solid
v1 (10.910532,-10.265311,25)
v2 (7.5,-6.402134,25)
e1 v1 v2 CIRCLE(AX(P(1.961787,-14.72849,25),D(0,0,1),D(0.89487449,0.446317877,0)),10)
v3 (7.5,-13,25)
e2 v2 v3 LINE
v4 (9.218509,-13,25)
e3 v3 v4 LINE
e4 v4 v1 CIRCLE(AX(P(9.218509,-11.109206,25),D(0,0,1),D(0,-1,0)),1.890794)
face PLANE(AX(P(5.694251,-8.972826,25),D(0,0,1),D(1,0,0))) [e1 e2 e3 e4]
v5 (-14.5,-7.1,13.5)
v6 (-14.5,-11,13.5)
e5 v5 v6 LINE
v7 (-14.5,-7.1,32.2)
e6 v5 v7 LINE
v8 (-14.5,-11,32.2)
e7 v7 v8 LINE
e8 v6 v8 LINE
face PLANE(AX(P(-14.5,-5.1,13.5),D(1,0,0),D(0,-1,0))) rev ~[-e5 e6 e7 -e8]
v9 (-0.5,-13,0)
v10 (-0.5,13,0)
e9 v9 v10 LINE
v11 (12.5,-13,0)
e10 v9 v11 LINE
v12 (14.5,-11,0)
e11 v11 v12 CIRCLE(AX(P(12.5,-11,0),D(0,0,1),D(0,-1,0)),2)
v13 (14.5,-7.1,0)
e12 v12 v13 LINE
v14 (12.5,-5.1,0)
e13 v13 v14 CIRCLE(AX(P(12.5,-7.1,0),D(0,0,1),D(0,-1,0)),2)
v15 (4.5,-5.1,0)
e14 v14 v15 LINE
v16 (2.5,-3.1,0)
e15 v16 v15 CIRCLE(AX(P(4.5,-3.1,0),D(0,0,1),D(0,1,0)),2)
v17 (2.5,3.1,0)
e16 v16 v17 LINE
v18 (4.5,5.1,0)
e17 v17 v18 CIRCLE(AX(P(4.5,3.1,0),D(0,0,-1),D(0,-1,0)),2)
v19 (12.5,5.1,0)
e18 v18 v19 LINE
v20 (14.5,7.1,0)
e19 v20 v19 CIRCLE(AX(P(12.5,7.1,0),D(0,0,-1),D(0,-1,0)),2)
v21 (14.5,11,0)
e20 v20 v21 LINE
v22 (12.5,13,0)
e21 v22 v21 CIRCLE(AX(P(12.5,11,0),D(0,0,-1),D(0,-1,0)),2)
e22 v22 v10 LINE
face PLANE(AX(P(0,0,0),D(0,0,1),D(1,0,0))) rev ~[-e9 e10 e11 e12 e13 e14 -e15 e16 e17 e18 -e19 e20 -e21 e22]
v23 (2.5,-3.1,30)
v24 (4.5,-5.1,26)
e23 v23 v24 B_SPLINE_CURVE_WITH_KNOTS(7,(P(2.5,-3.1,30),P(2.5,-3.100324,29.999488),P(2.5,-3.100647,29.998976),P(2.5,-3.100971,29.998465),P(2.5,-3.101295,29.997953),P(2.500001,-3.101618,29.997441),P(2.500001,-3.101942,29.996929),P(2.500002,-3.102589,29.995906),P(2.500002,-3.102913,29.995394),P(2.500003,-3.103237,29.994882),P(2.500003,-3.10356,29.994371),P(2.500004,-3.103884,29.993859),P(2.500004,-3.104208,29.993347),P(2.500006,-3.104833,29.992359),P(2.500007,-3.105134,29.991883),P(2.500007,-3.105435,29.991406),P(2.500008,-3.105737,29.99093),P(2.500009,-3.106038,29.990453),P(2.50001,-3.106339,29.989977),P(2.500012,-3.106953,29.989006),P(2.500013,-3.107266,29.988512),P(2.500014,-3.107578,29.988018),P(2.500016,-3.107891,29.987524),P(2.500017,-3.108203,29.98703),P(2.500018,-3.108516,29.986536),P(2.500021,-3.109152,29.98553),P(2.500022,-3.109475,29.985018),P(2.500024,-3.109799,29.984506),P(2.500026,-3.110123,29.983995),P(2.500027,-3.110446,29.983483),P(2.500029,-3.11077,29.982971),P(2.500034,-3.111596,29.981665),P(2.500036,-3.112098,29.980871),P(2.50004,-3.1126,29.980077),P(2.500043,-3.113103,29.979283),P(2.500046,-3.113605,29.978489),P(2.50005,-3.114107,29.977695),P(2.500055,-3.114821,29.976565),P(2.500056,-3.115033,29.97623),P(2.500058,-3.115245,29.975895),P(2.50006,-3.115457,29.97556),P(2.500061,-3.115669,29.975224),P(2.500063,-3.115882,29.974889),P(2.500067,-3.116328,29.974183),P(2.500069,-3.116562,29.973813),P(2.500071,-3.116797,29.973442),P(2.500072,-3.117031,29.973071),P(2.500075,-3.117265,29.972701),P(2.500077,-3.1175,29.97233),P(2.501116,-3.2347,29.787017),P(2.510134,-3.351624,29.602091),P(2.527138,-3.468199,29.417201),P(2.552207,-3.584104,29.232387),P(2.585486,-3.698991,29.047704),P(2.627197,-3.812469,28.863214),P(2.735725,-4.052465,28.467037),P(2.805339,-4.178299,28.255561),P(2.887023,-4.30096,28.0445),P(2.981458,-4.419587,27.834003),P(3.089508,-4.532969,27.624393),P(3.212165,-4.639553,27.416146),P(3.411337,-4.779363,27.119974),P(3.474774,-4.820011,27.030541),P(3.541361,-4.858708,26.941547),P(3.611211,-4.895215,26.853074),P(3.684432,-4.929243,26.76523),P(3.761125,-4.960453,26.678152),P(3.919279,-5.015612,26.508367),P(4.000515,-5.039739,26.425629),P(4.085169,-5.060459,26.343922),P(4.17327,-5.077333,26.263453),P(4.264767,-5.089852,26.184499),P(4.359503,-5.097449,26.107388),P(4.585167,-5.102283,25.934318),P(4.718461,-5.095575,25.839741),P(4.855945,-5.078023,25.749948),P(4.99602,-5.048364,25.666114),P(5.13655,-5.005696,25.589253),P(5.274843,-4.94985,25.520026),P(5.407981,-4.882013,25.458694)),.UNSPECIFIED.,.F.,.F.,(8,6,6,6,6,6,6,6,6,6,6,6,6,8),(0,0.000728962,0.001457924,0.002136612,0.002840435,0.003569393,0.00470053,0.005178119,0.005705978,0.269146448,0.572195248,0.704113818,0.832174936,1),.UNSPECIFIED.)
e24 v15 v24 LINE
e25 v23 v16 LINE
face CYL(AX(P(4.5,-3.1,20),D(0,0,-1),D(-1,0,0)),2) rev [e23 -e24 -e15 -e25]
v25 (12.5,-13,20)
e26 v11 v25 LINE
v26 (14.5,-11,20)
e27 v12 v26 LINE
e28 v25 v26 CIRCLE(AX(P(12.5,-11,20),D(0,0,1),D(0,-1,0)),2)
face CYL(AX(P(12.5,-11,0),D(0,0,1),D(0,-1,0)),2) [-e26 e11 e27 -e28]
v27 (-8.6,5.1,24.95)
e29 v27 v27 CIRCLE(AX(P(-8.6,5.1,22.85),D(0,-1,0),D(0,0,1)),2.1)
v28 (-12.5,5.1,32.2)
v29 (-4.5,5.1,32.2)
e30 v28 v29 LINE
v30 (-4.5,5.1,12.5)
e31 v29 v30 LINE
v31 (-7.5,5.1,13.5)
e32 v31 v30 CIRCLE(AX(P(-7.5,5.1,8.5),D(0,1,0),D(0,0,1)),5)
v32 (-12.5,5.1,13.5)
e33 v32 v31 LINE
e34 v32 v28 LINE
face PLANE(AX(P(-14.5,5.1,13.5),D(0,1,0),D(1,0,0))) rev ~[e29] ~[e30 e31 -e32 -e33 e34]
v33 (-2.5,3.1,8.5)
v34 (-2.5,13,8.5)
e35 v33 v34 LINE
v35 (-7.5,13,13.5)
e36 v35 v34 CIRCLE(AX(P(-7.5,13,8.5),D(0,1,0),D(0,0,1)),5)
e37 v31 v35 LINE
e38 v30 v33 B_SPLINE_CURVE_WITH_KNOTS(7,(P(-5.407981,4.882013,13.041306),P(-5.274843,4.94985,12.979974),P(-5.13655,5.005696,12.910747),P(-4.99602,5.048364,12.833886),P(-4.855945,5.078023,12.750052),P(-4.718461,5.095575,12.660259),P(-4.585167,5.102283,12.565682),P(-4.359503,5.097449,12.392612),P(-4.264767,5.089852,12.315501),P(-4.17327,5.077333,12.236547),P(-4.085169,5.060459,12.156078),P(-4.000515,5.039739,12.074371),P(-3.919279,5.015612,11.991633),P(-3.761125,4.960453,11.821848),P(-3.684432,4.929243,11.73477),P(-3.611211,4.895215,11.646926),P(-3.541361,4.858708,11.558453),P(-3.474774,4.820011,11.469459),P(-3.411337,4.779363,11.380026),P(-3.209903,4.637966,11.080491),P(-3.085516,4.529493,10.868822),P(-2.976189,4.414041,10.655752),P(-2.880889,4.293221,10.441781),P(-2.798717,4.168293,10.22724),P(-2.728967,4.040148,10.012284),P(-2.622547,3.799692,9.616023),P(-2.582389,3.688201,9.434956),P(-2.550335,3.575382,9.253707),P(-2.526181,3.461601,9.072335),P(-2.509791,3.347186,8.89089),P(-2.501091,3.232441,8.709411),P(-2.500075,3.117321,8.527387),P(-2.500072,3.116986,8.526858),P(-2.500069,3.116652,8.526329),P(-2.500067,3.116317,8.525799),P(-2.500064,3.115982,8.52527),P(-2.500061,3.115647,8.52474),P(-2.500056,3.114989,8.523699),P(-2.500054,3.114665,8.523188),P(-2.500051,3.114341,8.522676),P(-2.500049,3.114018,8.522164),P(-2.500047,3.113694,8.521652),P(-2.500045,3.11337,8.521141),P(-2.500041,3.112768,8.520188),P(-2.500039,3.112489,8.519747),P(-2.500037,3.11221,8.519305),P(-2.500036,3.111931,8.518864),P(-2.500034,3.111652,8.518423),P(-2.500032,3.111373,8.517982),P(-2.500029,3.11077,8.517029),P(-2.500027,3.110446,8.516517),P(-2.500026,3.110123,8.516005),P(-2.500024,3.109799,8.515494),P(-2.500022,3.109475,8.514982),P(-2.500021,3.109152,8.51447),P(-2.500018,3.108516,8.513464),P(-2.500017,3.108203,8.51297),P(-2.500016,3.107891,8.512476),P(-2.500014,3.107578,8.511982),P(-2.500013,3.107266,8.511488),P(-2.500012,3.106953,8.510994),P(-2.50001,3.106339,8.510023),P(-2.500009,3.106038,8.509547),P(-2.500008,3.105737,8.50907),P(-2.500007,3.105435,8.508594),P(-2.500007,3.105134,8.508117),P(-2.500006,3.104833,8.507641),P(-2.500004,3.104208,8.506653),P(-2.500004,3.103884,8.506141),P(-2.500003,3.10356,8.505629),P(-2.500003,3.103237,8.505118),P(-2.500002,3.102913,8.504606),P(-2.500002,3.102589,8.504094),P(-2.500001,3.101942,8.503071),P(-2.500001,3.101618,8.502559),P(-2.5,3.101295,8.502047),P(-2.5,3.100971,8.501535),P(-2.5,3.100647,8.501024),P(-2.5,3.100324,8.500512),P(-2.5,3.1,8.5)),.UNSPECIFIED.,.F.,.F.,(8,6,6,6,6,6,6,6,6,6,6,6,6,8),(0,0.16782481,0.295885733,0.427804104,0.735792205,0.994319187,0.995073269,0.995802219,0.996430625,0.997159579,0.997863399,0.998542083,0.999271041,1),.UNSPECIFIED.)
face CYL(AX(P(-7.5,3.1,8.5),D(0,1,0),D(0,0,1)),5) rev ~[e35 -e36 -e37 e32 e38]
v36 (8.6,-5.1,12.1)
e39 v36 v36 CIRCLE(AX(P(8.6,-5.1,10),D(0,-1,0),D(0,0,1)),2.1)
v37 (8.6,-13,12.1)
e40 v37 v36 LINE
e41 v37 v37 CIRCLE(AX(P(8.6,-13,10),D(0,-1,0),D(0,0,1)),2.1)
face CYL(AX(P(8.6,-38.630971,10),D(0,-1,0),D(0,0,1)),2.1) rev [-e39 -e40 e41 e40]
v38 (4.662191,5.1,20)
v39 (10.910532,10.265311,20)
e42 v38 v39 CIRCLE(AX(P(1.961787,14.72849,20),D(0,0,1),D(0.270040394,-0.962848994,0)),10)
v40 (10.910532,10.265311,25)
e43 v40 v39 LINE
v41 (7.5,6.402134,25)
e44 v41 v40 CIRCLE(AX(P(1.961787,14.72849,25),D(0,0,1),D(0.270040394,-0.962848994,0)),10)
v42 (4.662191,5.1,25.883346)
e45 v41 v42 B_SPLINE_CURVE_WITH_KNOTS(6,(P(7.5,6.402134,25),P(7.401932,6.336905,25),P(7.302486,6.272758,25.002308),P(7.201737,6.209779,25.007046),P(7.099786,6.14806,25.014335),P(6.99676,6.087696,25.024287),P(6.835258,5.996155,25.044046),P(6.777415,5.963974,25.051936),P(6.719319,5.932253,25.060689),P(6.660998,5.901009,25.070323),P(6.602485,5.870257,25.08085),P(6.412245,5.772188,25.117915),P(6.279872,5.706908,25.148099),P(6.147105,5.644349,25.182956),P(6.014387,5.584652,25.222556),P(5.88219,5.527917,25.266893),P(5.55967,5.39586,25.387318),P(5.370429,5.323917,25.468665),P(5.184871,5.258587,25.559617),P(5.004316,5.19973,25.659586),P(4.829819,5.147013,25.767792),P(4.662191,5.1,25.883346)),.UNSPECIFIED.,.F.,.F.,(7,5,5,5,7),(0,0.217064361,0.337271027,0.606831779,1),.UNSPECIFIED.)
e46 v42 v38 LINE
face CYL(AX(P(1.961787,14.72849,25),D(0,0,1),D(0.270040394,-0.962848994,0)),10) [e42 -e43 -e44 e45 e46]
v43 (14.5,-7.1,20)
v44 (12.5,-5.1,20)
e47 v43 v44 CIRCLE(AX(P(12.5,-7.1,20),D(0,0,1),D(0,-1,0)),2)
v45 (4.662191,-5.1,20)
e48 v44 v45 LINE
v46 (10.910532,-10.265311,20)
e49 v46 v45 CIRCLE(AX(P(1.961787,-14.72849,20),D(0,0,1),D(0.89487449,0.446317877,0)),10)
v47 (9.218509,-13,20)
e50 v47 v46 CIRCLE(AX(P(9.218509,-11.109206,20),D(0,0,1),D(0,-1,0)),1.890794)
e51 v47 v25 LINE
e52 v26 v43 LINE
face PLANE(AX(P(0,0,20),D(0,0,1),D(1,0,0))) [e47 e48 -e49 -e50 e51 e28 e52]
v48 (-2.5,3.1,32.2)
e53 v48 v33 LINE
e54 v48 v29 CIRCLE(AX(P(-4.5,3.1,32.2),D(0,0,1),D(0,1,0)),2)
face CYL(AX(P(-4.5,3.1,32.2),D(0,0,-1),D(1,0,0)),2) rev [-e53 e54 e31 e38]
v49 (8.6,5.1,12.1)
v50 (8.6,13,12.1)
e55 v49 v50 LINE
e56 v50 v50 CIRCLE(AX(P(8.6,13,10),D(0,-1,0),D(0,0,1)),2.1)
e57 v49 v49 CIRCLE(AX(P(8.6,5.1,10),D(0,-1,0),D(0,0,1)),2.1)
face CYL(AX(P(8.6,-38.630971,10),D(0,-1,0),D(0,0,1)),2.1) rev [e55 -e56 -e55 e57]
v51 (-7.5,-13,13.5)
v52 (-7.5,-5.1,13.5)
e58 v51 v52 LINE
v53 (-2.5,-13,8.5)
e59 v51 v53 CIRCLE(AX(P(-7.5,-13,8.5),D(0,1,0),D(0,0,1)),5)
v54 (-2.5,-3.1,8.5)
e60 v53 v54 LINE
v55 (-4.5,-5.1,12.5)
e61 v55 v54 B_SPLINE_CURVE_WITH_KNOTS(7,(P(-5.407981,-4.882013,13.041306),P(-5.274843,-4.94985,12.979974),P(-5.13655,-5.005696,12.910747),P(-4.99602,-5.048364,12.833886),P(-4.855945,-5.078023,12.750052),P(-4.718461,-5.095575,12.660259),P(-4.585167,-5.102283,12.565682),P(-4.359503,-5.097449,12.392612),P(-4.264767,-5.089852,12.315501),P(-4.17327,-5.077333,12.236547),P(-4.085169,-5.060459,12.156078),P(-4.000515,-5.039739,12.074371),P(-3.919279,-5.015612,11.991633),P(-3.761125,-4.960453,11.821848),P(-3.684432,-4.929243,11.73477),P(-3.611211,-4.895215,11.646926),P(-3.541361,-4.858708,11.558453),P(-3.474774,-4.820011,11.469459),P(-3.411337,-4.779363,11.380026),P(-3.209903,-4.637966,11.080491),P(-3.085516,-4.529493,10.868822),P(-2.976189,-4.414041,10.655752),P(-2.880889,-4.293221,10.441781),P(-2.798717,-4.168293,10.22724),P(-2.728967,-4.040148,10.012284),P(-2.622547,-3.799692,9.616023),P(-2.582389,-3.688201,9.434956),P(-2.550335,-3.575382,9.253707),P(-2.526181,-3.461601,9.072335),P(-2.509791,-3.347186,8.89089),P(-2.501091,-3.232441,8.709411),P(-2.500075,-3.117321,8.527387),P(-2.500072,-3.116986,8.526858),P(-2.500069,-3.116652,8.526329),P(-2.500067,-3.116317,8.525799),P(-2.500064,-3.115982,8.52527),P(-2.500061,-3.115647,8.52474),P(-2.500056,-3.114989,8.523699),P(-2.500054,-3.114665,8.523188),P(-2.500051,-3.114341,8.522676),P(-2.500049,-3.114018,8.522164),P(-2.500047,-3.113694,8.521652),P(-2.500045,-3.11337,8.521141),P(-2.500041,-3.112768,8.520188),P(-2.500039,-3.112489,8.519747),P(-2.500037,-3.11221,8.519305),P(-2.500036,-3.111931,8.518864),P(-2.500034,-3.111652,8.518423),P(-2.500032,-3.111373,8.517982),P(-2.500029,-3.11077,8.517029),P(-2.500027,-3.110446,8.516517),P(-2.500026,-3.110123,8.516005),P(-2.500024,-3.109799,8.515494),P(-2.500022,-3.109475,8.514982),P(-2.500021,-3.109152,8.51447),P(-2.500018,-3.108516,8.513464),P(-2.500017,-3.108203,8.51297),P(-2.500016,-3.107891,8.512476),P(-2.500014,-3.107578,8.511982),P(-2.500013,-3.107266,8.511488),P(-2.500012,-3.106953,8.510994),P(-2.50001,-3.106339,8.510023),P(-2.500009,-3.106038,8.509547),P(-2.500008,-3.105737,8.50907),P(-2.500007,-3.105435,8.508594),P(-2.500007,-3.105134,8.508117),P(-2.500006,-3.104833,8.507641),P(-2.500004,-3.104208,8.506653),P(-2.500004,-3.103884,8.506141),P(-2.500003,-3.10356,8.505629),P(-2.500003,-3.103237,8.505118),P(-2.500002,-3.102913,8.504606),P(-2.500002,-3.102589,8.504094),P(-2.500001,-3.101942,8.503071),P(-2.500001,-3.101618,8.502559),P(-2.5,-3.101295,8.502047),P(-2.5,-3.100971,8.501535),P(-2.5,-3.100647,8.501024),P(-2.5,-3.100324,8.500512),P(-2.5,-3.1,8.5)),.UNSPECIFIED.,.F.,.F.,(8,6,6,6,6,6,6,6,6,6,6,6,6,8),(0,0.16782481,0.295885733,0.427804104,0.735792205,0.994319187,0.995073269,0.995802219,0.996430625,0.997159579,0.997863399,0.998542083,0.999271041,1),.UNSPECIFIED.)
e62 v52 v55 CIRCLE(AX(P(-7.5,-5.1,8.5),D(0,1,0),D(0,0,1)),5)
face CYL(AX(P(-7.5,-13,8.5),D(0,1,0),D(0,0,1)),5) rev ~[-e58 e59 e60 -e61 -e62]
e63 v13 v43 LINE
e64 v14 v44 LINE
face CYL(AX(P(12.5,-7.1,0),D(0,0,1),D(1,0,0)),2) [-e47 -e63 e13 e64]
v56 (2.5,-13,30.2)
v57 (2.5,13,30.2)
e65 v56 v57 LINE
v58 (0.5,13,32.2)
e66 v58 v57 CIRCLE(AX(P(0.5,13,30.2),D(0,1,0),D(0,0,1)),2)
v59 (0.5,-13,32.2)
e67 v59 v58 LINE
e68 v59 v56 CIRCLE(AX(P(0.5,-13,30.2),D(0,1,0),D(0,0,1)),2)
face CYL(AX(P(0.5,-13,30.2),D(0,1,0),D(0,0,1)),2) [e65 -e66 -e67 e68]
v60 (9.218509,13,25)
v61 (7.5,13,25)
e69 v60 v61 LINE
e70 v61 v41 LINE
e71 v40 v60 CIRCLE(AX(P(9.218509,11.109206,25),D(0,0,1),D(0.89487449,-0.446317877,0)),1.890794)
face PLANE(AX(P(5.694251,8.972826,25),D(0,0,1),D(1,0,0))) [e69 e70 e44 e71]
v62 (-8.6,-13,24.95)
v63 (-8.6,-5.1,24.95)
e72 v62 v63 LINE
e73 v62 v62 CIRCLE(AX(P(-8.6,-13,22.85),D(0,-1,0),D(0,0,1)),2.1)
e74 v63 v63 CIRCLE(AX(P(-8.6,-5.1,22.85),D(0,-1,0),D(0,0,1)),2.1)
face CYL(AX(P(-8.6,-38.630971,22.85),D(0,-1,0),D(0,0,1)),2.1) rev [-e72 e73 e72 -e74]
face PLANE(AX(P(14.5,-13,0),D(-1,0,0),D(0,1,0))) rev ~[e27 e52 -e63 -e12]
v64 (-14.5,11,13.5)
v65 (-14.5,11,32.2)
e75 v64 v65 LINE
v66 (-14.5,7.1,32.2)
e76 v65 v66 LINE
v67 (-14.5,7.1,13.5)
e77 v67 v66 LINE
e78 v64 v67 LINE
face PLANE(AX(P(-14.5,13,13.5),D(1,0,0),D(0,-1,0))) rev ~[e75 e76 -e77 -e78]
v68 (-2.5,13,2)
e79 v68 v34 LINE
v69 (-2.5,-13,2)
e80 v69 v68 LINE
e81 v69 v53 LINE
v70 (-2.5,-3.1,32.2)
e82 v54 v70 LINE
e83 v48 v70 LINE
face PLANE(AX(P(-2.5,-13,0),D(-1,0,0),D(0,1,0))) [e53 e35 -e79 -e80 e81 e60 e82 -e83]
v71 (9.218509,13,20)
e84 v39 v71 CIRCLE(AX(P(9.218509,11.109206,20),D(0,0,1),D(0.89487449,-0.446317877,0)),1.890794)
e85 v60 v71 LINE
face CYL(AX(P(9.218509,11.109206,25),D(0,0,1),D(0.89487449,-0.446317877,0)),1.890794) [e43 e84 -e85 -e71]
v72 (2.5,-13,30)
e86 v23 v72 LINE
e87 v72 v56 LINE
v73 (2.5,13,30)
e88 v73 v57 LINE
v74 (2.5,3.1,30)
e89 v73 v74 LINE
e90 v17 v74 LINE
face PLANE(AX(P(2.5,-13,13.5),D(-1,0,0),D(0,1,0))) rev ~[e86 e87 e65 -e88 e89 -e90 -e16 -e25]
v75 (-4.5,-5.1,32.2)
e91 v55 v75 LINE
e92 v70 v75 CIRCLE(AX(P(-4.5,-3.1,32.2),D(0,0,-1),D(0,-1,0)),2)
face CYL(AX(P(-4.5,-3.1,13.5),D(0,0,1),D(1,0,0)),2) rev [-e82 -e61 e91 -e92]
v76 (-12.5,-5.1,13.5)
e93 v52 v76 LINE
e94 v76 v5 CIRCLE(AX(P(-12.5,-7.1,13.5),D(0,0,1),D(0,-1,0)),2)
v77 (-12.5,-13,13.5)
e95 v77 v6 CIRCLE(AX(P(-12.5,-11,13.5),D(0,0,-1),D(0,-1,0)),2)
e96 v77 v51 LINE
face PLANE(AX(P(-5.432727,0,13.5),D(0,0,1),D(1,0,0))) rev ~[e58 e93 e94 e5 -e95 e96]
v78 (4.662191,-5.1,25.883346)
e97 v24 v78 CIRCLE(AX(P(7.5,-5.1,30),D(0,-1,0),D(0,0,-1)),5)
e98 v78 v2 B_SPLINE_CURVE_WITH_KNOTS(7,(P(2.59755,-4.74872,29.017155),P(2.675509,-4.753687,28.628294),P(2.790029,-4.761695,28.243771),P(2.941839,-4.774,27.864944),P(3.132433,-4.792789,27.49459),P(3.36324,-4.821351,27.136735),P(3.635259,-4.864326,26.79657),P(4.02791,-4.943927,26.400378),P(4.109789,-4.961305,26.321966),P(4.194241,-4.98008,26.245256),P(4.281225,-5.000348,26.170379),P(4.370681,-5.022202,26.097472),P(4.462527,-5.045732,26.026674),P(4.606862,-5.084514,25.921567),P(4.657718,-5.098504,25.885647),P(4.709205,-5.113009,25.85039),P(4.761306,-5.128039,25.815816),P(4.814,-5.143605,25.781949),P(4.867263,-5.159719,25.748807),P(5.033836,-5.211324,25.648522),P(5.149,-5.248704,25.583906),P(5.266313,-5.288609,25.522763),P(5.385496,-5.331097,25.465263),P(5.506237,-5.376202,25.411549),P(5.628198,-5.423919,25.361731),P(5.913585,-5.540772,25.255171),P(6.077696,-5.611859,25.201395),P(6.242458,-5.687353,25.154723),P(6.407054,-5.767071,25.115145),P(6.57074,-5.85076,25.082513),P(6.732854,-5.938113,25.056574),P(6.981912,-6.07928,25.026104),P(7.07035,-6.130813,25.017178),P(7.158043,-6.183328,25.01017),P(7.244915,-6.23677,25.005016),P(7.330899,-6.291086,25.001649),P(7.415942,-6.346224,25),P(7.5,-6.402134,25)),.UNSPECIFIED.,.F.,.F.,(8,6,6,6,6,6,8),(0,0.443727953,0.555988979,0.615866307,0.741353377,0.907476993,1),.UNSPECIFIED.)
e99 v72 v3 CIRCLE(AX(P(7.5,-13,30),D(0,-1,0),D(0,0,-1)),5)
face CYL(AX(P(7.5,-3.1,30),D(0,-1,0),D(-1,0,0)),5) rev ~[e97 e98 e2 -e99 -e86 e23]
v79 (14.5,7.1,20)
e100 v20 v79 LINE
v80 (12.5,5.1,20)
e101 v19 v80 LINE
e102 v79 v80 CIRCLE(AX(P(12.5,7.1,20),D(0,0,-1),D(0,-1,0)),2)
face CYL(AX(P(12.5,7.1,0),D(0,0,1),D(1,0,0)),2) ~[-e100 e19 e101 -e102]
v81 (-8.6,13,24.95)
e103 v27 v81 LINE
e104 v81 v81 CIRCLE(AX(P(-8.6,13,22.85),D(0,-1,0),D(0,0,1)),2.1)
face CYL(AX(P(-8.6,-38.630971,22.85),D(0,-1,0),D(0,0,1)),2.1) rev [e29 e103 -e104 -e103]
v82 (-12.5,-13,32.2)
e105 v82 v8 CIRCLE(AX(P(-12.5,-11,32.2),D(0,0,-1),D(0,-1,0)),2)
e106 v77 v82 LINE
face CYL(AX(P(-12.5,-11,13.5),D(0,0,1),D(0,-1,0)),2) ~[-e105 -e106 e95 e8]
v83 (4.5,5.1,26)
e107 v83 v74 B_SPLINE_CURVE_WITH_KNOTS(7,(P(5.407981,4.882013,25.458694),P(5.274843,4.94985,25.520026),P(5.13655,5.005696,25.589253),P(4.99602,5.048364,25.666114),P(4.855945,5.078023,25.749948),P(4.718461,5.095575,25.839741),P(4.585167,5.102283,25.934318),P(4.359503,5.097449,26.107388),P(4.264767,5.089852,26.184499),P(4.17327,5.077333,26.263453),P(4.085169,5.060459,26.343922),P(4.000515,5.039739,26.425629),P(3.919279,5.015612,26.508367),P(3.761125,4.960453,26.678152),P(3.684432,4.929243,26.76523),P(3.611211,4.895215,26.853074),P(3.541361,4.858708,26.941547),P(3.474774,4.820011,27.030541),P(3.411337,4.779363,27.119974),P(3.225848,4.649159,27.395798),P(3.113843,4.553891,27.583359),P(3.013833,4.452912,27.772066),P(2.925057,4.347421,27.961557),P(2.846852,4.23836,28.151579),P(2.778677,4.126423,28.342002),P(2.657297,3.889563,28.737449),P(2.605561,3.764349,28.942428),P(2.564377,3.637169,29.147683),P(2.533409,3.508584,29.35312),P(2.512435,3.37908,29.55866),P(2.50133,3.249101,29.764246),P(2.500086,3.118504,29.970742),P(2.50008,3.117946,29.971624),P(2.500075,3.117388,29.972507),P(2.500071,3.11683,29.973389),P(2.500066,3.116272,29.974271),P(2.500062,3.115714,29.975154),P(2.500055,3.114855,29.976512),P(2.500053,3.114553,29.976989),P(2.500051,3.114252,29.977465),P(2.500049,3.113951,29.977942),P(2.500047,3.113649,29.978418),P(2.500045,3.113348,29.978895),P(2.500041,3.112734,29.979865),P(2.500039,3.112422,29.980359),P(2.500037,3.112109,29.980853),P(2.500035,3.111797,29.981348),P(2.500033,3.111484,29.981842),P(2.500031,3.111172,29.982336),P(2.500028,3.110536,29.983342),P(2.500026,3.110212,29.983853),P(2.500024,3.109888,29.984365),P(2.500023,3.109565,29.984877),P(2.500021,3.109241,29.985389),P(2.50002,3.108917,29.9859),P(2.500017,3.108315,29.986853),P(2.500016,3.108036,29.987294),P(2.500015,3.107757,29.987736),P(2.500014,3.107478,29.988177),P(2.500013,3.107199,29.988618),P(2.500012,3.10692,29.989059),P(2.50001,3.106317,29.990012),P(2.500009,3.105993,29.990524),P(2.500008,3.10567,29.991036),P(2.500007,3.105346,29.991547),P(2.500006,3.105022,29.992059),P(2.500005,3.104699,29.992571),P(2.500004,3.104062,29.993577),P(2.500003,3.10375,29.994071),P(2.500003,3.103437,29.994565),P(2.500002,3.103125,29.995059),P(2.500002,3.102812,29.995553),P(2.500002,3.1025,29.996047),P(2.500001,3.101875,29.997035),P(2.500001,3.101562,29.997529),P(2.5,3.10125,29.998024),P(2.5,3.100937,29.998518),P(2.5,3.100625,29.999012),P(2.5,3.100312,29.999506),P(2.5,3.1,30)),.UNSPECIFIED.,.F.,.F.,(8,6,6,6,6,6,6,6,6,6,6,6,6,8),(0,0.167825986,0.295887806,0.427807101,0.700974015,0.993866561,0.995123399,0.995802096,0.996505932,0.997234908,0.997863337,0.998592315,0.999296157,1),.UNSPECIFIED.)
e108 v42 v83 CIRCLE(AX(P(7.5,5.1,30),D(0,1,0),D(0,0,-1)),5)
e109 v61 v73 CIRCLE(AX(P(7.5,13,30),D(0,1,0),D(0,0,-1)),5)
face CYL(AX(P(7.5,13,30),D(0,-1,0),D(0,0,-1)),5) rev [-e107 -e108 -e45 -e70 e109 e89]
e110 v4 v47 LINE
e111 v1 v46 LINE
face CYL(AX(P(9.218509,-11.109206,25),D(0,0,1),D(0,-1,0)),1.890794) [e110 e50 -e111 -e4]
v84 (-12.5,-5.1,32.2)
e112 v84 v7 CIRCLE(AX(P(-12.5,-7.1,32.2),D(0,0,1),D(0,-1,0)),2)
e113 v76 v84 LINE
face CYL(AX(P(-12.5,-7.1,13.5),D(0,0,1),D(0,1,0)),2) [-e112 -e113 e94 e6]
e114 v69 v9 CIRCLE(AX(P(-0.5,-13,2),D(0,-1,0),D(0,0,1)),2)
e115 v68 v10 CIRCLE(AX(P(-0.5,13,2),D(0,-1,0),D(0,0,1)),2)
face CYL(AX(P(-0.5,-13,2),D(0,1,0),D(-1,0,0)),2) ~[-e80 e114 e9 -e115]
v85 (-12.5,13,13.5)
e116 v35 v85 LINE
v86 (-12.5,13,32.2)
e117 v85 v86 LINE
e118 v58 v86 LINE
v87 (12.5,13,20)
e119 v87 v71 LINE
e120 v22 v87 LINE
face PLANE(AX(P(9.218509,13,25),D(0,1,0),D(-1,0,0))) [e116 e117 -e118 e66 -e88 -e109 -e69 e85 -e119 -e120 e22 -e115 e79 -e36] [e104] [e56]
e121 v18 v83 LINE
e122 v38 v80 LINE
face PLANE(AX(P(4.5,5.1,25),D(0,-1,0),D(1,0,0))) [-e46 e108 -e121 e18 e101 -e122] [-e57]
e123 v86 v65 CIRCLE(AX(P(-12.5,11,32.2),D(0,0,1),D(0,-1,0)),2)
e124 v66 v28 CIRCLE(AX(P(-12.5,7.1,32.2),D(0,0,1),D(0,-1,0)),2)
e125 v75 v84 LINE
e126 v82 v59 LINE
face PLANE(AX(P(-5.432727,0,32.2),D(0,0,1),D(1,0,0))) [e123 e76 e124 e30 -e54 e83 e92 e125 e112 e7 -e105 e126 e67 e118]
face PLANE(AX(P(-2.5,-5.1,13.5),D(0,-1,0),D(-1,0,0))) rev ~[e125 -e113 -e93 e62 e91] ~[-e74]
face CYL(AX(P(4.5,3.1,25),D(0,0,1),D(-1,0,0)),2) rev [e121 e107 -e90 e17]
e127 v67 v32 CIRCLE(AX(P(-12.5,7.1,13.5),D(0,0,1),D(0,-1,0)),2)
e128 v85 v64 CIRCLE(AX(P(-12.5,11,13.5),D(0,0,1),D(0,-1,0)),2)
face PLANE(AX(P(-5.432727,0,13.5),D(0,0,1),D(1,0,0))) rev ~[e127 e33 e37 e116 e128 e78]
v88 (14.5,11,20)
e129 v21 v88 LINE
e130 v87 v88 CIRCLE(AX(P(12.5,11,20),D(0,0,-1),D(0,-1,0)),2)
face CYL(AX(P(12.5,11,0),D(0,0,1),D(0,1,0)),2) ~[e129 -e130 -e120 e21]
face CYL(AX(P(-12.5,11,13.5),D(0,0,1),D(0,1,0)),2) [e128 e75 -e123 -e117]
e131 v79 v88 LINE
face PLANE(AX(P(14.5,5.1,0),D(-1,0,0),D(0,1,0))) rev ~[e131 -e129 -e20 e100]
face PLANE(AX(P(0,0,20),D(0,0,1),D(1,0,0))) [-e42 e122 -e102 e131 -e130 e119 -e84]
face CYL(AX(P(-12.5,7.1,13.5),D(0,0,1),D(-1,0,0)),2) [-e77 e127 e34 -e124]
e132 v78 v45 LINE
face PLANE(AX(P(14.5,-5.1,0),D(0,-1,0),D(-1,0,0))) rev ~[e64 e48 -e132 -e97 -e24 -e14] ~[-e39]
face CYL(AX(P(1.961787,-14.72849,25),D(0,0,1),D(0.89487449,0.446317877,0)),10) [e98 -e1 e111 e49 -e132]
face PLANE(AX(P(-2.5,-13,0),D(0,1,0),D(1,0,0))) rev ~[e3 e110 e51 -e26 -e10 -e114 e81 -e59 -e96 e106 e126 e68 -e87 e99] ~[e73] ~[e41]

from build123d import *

# Parameters (mm, degrees)
SKETCH1_W                = 5
SKETCH1_H                = 26.000000000000004
BOSS_EXTRUDE1_DEPTH      = 20
BOSS_EXTRUDE3_DEPTH      = 12.2
BOSS_EXTRUDE3_DEPTH_BACK = 6.5
CUT_EXTRUDE2_DEPTH       = 38.6309712869599
CUT_EXTRUDE2_DEPTH_BACK  = 38.6309712869599
SKETCH4_R                = 2.100000000000001
FILLET5_R                = 2
FILLET7_R                = 2
BOSS_EXTRUDE5_START      = 5
BOSS_EXTRUDE5_DEPTH      = 5
FILLET15_R               = 5


with BuildPart() as part:
    # Sketch1 → Boss-Extrude1 (new body)
    with BuildSketch(Plane.XY):
        Rectangle(SKETCH1_W, SKETCH1_H)
        Polygon((14.5, 13), (2.5, 13), (2.5, 5.099999999999998), (14.500000000000004, 5.099999999999999), align=None)
        Polygon((14.500000000000004, -5.099999999999999), (2.500000000000007, -5.099999999999997), (2.5, -13), (14.5, -13), align=None)
    extrude(amount=BOSS_EXTRUDE1_DEPTH)

    # Sketch3 → Boss-Extrude3 (add, two sides: drawn at the far end of the back side and taken through both)
    with BuildSketch(Plane.XY.offset(20).offset(-BOSS_EXTRUDE3_DEPTH_BACK)):
        Polygon((2.5, 13), (-14.5, 13), (-14.500000000000004, 5.099999999999999), (-2.5, 5.099999999999998), (-2.5, -5.099999999999998), (-14.500000000000004, -5.099999999999999), (-14.5, -13), (2.5, -13), align=None)
    extrude(amount=BOSS_EXTRUDE3_DEPTH + BOSS_EXTRUDE3_DEPTH_BACK)

    # Sketch4 → Cut-Extrude2 (cut, two sides: drawn at the far end of the back side and taken through both)
    with BuildSketch(Plane(origin=(0, 0, 0), x_dir=(1, 0, 0), z_dir=(0, 1, 0)).offset(-CUT_EXTRUDE2_DEPTH_BACK)):
        with Locations(Location((8.6, -10, 0), (0, 0, 270))):
            Circle(SKETCH4_R)
        with Locations(Location((-8.6, -22.85, 0), (0, 0, 270))):
            Circle(SKETCH4_R)
    extrude(amount=CUT_EXTRUDE2_DEPTH + CUT_EXTRUDE2_DEPTH_BACK, mode=Mode.SUBTRACT)

    # Fillet5
    fillet5_edges = [part.edges().sort_by_distance(p)[0] for p in [
        (14.5, 13, 10),
        (14.500000000000004, 5.099999999999999, 10),
        (2.5000000000000036, 5.099999999999998, 10),
        (2.5000000000000036, -5.099999999999997, 10),
        (14.500000000000004, -5.099999999999999, 10),
        (14.5, -13, 10),
        (-2.5, 5.099999999999998, 22.85),
        (-14.5, -13, 22.85),
        (-14.5, 13, 22.85),
        (-14.500000000000004, 5.099999999999999, 22.85),
        (-2.5, -5.099999999999998, 22.85),
        (-14.500000000000004, -5.099999999999999, 22.85),
    ]]
    fillet(fillet5_edges, radius=FILLET5_R)

    # Fillet7
    fillet7_edges = [part.edges().sort_by_distance(p)[0] for p in [
        (-2.5, 0, 0),
        (2.5, 0, 32.2),
    ]]
    fillet(fillet7_edges, radius=FILLET7_R)

    # Sketch8 → Boss-Extrude5 (add)
    with BuildSketch(Plane.XY.offset(20).offset(BOSS_EXTRUDE5_START)):
        with BuildLine():
            Line((9.21850909129393, 13), (2.5, 13))
            Line((2.5, 13), (2.5, 3.099999999999998))
            ThreePointArc((2.5, 3.099999999999998), (3.085786437626906, 4.514213562373092), (4.500000000000001, 5.099999999999998))
            Line((4.500000000000001, 5.099999999999998), (4.662191244433229, 5.099999999999998))
            ThreePointArc((4.662191244433234, 5.099999999999962), (8.333268844866092, 7.021076435787774), (10.910532200315354, 10.265311171006154))
            ThreePointArc((10.910532200315352, 10.265311171006154), (10.826416519668328, 12.104060379927068), (9.21850909129393, 13))
        make_face()
        with BuildLine():
            ThreePointArc((4.500000000000001, -5.099999999999998), (3.085786437626905, -4.514213562373093), (2.5, -3.0999999999999974))
            Line((2.5, -3.099999999999998), (2.5, -13))
            Line((2.5, -13), (9.218509091293962, -13))
            ThreePointArc((9.218509091293962, -12.999999999999998), (10.8264165196684, -12.10406037992704), (10.910532200315423, -10.265311171006077))
            ThreePointArc((10.910532200315425, -10.265311171006077), (8.33326884486619, -7.021076435787755), (4.662191244433393, -5.099999999999964))
            Line((4.662191244433386, -5.099999999999998), (4.500000000000002, -5.099999999999998))
        make_face()
    extrude(amount=-BOSS_EXTRUDE5_DEPTH)

    # Fillet15
    fillet15_edges = [part.edges().sort_by_distance(p)[0] for p in [
        (-2.5, -8.049999999999999, 13.5),
        (-2.5, 8.049999999999999, 13.5),
        (2.5, -8.049999999999999, 25),
        (2.5, 8.049999999999999, 25),
    ]]
    fillet(fillet15_edges, radius=FILLET15_R)


solid = part.part
